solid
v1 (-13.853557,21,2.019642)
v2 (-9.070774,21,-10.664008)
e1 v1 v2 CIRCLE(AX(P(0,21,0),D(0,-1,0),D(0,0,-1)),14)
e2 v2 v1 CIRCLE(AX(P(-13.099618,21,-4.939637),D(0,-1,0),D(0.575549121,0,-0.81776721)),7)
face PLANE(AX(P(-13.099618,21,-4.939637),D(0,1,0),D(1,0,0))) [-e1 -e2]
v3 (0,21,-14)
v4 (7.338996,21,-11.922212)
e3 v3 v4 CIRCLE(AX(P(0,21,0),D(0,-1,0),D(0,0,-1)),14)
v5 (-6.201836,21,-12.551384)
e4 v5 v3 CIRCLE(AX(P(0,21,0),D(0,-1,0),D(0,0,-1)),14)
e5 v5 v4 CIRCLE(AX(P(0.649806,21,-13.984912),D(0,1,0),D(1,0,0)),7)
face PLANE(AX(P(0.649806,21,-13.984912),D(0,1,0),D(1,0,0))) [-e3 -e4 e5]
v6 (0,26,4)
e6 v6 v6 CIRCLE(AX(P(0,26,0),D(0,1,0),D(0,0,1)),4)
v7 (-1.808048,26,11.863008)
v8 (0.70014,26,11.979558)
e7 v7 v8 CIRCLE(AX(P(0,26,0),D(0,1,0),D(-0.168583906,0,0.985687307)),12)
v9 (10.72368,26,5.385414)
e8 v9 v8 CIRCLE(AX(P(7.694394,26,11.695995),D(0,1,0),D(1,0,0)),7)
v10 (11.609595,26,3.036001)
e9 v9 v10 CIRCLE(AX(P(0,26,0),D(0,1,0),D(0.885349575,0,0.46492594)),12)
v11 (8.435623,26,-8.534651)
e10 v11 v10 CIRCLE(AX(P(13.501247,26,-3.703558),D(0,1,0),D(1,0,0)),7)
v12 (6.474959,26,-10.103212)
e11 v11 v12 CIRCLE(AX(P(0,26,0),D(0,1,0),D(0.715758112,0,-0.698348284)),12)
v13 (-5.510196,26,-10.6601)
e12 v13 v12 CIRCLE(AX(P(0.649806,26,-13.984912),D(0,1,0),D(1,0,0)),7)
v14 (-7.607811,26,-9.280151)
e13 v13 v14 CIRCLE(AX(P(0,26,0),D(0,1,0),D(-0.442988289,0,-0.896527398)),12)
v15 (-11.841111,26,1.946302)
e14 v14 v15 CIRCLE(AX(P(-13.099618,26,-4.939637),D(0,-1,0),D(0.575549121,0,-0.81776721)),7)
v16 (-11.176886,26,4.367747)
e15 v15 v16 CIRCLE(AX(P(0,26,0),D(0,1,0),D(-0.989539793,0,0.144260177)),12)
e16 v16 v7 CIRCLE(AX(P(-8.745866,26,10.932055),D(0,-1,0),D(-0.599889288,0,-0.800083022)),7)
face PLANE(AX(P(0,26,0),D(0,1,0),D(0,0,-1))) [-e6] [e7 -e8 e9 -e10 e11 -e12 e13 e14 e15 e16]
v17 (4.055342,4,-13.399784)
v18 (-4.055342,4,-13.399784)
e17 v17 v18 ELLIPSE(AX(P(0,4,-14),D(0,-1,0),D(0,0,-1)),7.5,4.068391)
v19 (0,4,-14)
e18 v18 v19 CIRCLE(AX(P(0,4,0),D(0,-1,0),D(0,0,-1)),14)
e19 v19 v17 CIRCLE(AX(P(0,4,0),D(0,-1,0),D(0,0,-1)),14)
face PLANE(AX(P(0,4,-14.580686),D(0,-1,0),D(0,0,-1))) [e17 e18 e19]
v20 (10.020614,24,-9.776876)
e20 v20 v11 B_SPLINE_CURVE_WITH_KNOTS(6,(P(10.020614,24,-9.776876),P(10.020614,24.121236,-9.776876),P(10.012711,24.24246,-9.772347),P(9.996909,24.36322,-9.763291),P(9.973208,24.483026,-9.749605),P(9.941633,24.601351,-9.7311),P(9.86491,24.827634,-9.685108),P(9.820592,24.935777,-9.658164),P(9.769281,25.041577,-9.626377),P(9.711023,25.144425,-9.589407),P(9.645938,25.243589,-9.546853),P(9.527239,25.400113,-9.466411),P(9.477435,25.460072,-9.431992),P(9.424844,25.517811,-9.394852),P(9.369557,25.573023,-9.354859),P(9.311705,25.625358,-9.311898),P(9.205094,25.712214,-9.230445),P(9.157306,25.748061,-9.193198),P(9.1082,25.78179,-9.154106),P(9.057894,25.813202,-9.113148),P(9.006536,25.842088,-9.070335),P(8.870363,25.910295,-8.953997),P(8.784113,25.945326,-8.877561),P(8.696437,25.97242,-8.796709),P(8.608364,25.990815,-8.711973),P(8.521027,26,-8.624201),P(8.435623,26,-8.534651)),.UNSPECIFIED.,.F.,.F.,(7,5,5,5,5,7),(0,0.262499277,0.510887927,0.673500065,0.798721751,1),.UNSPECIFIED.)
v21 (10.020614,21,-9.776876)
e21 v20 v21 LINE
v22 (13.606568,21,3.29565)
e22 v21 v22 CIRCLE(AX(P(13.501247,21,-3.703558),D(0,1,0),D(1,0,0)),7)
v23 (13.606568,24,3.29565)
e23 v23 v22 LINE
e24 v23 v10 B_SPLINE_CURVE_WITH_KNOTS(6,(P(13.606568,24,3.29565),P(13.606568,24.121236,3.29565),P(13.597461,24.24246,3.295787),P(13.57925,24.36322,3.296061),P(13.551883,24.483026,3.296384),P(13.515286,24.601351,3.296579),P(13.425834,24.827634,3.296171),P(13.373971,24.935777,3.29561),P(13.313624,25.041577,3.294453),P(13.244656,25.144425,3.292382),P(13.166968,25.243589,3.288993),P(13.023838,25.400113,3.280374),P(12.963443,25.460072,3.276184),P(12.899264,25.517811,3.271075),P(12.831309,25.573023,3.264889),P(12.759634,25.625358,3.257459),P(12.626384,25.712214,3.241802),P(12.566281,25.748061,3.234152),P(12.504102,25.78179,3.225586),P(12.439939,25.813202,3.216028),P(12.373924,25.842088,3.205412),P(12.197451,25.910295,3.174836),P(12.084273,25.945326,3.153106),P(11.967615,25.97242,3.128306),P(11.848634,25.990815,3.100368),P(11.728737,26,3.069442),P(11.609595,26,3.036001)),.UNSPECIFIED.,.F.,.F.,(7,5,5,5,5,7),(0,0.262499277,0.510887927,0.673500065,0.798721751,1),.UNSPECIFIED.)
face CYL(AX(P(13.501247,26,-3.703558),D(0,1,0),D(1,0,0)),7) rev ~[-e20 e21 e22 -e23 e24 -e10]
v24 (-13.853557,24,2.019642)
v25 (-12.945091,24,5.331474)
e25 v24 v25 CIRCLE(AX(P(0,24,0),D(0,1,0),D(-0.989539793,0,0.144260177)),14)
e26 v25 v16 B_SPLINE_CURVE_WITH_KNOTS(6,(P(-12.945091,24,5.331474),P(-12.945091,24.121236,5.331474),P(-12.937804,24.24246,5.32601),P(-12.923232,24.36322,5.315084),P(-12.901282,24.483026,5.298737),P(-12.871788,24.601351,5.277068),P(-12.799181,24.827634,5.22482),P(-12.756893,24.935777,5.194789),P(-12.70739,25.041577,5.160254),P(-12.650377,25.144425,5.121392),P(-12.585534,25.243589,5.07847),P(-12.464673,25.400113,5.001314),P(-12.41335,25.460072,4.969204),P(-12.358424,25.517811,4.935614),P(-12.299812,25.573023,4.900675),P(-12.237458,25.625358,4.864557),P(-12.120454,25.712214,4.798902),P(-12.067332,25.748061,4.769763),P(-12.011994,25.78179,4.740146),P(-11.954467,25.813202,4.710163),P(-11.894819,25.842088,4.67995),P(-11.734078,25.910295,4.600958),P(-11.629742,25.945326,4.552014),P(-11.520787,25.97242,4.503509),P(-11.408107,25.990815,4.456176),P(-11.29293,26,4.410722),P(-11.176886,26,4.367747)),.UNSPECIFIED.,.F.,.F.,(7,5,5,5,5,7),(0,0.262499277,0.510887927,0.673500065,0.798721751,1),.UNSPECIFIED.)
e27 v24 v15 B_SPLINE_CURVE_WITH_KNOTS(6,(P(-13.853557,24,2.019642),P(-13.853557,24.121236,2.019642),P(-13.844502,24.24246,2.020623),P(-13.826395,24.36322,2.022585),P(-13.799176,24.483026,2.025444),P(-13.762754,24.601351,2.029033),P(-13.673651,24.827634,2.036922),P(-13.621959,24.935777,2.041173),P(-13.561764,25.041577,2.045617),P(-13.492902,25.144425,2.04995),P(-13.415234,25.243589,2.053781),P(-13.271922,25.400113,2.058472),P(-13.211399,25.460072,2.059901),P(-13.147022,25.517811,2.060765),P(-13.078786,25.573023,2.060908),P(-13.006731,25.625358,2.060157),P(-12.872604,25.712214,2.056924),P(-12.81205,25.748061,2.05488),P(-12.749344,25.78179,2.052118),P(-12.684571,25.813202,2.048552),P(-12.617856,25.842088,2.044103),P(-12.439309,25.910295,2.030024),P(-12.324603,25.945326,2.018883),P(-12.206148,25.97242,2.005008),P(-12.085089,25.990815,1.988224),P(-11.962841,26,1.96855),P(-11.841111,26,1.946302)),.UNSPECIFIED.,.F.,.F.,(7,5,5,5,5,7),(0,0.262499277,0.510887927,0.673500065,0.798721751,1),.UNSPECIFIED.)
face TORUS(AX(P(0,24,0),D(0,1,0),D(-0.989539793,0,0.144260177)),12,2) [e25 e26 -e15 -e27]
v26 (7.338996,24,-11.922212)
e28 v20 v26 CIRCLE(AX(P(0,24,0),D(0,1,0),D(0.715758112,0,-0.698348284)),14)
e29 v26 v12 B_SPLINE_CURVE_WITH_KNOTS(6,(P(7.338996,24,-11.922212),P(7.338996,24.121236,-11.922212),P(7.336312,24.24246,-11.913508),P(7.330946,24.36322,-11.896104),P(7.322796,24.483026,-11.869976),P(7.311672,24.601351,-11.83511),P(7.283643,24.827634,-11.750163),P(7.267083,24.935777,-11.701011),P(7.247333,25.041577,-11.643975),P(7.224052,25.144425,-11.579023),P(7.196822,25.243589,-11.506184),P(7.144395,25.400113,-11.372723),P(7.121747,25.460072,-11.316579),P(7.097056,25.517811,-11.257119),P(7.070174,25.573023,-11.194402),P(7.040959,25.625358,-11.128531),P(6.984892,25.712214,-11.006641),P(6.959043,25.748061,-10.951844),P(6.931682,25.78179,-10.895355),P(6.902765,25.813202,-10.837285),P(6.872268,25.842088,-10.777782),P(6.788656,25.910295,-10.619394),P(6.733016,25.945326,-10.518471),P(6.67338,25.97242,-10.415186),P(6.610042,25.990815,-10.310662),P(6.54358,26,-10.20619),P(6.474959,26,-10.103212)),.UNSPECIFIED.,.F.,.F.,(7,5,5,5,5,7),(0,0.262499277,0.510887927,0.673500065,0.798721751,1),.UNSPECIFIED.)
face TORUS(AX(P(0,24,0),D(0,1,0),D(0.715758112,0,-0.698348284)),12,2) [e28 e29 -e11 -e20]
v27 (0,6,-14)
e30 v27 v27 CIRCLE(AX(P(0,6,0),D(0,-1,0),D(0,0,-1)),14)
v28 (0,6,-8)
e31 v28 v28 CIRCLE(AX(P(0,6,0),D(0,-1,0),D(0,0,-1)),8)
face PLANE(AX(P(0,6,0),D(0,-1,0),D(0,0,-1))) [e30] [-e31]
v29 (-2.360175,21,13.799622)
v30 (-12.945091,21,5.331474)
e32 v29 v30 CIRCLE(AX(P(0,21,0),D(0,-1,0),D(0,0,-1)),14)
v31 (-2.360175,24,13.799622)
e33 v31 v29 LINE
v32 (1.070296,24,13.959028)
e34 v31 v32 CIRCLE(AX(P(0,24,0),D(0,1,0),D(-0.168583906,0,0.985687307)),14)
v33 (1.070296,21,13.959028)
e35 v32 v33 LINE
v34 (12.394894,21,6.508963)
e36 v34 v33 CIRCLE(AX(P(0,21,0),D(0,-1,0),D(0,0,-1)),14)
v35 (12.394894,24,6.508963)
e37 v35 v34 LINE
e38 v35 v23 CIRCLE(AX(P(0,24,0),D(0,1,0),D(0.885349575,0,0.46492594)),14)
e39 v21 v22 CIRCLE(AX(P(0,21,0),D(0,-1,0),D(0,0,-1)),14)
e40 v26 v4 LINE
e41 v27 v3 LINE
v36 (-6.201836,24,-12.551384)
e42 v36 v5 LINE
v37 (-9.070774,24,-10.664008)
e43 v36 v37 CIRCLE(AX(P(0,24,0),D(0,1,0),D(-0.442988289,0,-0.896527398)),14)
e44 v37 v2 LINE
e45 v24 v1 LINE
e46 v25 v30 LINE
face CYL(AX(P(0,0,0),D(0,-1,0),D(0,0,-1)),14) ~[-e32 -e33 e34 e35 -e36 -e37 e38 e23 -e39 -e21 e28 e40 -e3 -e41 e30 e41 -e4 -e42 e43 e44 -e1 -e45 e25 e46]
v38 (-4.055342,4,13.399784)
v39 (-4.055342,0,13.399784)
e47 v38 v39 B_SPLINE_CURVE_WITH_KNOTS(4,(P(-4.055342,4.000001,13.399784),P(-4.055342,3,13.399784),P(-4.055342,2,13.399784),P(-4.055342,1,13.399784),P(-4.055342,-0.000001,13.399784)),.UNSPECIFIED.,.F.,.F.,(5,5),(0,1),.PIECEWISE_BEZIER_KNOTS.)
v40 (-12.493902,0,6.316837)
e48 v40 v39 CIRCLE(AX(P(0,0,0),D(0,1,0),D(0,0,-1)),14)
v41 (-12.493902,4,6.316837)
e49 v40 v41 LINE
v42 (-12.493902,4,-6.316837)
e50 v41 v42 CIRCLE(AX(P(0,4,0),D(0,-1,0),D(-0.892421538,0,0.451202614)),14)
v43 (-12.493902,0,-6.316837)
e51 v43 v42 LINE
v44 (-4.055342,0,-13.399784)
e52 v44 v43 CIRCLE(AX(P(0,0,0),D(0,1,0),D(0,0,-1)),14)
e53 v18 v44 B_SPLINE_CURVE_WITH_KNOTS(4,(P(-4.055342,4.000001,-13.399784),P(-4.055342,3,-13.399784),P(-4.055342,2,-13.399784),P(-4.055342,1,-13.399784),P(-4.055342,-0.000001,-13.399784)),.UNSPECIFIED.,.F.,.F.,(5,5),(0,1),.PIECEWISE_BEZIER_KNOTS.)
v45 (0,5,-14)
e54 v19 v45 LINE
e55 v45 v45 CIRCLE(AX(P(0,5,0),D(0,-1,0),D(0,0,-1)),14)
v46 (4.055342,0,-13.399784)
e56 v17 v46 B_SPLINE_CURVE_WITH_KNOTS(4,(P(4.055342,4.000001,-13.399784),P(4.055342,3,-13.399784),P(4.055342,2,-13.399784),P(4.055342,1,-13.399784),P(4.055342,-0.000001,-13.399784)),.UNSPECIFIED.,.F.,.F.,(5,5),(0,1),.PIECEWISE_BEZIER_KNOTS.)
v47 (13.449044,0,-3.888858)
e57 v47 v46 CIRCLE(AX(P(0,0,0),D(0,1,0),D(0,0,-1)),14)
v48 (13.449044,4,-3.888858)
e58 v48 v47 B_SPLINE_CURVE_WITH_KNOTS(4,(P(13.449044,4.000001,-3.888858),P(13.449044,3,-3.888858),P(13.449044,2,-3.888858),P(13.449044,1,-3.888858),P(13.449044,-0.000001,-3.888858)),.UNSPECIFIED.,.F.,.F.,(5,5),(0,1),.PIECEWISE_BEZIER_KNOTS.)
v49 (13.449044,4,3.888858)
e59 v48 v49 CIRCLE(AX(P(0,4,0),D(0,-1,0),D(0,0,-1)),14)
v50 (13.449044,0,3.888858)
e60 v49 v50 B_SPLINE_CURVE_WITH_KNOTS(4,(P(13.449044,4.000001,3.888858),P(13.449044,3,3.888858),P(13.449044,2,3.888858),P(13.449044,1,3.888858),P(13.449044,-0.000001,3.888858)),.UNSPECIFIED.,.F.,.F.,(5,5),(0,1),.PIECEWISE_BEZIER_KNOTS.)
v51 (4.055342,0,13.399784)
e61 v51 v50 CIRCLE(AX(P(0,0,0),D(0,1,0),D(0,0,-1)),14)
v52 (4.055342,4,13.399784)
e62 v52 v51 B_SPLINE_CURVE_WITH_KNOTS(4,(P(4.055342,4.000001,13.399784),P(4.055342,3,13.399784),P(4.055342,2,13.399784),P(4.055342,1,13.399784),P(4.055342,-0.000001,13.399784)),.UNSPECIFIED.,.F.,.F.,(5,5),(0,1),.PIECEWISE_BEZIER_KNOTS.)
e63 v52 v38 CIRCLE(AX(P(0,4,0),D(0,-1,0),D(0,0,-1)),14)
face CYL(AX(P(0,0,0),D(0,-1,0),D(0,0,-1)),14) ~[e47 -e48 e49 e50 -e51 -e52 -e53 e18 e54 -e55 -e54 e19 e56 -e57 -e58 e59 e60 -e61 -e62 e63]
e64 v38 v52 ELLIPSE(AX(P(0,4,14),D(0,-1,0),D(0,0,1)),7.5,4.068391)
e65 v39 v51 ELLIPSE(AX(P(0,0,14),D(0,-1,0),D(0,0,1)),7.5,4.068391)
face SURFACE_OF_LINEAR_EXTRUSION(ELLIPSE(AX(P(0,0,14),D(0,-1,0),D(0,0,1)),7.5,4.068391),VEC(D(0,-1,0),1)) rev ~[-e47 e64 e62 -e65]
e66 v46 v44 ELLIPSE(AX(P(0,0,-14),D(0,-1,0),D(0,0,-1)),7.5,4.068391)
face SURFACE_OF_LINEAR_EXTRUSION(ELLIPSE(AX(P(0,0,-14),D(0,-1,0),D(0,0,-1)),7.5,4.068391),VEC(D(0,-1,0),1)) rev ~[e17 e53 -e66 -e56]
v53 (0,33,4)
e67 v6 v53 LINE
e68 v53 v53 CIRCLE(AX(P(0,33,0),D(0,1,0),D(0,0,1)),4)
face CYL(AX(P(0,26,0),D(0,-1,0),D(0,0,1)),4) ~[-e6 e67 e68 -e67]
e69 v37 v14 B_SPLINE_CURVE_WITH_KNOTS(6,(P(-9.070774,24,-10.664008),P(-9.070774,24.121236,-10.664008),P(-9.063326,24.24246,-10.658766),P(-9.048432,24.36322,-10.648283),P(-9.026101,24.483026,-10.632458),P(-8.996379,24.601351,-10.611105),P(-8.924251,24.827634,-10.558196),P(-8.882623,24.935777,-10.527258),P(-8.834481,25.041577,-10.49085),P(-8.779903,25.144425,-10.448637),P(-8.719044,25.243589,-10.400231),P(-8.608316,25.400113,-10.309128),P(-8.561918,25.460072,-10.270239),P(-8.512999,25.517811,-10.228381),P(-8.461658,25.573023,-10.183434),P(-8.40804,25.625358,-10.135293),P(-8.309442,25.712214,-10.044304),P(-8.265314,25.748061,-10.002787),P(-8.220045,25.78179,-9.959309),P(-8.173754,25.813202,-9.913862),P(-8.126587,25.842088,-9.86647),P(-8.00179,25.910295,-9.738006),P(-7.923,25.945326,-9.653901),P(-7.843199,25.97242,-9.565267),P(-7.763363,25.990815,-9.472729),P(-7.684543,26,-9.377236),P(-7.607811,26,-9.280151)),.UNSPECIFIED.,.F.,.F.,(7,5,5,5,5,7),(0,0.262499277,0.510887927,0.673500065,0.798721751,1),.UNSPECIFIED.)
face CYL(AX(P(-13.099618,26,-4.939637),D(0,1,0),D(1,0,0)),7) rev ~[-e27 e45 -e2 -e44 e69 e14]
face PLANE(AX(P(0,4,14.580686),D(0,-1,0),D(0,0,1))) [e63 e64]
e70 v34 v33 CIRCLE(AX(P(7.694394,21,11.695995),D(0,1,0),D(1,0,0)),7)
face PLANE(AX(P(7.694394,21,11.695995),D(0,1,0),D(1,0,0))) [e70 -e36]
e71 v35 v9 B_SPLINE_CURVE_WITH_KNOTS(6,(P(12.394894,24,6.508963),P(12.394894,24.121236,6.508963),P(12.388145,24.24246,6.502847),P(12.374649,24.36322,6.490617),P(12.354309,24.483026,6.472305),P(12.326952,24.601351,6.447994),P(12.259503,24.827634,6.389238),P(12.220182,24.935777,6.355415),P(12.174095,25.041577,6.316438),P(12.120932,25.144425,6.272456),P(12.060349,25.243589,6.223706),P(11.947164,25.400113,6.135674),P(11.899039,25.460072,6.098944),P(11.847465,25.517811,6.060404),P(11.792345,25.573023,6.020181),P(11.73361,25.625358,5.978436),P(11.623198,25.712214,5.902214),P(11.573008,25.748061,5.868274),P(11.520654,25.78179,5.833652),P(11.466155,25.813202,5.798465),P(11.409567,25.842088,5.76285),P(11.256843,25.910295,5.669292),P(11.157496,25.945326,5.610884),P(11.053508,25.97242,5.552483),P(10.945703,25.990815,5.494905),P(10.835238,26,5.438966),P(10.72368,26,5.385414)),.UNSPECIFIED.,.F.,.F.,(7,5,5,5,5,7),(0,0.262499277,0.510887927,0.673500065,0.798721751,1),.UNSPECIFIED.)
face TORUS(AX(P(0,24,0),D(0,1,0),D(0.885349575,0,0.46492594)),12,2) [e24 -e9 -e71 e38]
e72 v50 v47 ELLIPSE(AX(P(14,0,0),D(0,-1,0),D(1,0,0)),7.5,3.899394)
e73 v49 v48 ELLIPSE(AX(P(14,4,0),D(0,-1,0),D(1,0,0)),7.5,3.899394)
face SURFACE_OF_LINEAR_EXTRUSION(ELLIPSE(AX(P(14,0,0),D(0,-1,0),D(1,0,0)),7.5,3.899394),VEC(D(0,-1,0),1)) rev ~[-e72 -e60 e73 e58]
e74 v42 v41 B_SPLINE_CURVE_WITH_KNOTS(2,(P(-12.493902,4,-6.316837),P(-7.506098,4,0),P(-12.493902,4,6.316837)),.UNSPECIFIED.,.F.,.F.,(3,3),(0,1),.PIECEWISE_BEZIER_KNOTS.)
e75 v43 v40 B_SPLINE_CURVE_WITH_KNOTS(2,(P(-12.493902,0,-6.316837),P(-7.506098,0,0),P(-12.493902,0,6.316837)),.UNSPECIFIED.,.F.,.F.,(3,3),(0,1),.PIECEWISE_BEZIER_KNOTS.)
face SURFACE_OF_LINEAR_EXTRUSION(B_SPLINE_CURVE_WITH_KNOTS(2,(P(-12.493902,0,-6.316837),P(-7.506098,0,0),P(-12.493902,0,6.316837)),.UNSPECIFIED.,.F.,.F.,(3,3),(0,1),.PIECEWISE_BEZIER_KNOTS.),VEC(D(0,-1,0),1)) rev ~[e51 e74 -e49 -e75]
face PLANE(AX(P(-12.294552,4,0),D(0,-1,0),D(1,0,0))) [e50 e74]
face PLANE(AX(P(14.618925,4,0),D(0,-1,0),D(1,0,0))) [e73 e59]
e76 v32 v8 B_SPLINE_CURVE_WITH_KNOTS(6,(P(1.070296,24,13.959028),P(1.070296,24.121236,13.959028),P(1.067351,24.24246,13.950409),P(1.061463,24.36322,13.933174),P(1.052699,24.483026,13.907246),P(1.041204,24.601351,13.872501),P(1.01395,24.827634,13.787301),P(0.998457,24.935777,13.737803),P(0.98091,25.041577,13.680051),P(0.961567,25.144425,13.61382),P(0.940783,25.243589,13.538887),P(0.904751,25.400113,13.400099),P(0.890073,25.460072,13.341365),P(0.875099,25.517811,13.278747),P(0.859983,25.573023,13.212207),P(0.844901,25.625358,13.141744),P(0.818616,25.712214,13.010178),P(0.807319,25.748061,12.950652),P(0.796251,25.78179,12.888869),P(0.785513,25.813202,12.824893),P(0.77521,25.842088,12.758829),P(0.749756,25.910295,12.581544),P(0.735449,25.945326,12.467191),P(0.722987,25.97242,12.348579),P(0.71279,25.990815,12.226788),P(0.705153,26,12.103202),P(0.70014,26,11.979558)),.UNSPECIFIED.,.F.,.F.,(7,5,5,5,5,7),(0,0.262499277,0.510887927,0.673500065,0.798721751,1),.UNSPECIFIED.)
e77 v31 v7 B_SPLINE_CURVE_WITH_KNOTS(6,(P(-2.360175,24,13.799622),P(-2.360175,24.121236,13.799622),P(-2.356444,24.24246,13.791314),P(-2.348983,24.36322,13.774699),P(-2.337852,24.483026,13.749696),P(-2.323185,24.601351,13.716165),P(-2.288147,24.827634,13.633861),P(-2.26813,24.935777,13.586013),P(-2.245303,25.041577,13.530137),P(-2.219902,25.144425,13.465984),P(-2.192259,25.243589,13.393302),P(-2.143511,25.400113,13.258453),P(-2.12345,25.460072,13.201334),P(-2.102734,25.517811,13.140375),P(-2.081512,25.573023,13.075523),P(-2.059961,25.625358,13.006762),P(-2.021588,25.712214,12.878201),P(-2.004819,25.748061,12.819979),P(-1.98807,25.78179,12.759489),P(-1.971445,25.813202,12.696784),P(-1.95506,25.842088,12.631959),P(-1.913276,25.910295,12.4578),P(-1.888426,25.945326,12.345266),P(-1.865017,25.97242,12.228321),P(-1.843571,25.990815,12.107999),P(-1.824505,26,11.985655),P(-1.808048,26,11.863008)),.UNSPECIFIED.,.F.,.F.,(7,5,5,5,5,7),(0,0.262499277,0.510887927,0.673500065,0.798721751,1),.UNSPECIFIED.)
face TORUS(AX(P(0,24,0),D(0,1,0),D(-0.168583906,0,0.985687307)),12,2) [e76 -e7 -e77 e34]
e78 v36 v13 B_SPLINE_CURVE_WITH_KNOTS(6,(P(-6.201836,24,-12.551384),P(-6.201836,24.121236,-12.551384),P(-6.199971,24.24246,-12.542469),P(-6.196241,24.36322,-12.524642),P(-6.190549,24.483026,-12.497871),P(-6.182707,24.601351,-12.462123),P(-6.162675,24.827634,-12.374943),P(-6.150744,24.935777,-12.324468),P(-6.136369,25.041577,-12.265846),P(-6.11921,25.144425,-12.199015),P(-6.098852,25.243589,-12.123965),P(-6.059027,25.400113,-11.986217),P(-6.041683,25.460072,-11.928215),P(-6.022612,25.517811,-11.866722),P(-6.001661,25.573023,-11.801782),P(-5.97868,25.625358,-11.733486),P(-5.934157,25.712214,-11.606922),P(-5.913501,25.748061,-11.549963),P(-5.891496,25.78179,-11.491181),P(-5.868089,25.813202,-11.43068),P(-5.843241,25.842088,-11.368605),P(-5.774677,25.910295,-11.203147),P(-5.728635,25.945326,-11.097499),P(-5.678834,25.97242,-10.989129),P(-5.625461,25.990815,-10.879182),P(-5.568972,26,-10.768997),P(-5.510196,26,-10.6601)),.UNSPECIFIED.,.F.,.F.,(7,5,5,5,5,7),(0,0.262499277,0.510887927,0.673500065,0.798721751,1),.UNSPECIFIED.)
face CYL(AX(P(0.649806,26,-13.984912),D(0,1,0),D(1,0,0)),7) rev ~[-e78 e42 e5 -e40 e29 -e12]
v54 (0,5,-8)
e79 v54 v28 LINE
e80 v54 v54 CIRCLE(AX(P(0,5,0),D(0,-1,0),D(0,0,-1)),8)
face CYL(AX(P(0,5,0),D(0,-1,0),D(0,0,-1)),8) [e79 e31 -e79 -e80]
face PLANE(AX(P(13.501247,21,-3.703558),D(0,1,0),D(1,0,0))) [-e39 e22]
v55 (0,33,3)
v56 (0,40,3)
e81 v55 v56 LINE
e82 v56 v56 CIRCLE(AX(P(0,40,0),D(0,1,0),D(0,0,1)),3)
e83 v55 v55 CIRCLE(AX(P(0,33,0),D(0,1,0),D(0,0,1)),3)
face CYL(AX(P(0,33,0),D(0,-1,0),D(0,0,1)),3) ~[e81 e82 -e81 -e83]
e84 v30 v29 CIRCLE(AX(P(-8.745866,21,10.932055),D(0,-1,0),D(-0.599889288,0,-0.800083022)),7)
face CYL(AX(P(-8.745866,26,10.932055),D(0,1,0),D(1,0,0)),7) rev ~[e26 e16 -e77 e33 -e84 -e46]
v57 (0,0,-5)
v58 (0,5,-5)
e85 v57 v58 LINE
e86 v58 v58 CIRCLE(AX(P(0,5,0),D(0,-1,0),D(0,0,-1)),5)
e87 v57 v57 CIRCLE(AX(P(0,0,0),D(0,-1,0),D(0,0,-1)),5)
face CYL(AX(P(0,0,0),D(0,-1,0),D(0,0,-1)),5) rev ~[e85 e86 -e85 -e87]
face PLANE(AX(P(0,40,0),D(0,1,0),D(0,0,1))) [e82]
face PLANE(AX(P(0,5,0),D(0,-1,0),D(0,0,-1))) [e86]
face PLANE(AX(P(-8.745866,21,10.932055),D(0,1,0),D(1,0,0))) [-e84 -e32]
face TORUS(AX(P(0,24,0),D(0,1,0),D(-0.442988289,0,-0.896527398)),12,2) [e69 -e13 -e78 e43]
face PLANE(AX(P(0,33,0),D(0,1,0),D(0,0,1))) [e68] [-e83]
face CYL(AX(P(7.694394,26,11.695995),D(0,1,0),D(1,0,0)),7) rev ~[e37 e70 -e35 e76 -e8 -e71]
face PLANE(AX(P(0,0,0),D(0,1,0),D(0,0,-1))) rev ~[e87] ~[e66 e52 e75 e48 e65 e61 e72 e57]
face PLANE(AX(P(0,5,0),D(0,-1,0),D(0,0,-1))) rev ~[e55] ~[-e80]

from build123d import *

# Parameters (mm, degrees)
SKETCH1_R           = 14
BOSS_EXTRUDE1_DEPTH = 26
SKETCH2_R           = 4
BOSS_EXTRUDE2_DEPTH = 7
SKETCH3_R           = 3
BOSS_EXTRUDE3_DEPTH = 7
SKETCH5_R           = 5
CUT_EXTRUDE1_DEPTH  = 5
SKETCH7_R           = 7
CUT_EXTRUDE2_DEPTH  = 5
FILLET1_R           = 2
SKETCH9_RX          = 7.5
SKETCH9_RY          = 4.068391424
SKETCH9_RY_2        = 3.899393896
CUT_EXTRUDE3_DEPTH  = 4
SKETCH11_R          = 14
SKETCH11_R_2        = 8
CUT_EXTRUDE4_DEPTH  = 1


with BuildPart() as part:
    # Sketch1 → Boss-Extrude1 (new body)
    with BuildSketch(Plane(origin=(0, 0, 0), x_dir=(1, 0, 0), z_dir=(0, 1, 0))):
        with Locations(Location((0, 0, 0), (0, 0, 90))):
            Circle(SKETCH1_R)
    extrude(amount=BOSS_EXTRUDE1_DEPTH)

    # Sketch2 → Boss-Extrude2 (add)
    with BuildSketch(Plane(origin=(0, 26, 0), x_dir=(1, 0, 0), z_dir=(0, 1, 0))):
        with Locations(Location((0, 0, 0), (0, 0, 270))):
            Circle(SKETCH2_R)
    extrude(amount=BOSS_EXTRUDE2_DEPTH)

    # Sketch3 → Boss-Extrude3 (add)
    with BuildSketch(Plane(origin=(0, 33, 0), x_dir=(1, 0, 0), z_dir=(0, 1, 0))):
        with Locations(Location((0, 0, 0), (0, 0, 270))):
            Circle(SKETCH3_R)
    extrude(amount=BOSS_EXTRUDE3_DEPTH)

    # Sketch5 → Cut-Extrude1 (cut)
    with BuildSketch(Plane.XZ):
        with Locations(Location((0, 0, 0), (0, 0, 270))):
            Circle(SKETCH5_R)
    extrude(amount=-CUT_EXTRUDE1_DEPTH, mode=Mode.SUBTRACT)

    # Sketch7 → Cut-Extrude2 (cut)
    with BuildSketch(Plane(origin=(0, 26, 0), x_dir=(1, 0, 0), z_dir=(0, 1, 0))):
        with Locations((-13.099617669, 4.939637327)):
            Circle(SKETCH7_R)
        with Locations((-8.745866262, -10.932054854)):
            Circle(SKETCH7_R)
        with Locations((7.694394058, -11.695995045)):
            Circle(SKETCH7_R)
        with Locations((13.501246597, 3.703557793)):
            Circle(SKETCH7_R)
        with Locations((0.649805899, 13.984911594)):
            Circle(SKETCH7_R)
    extrude(amount=-CUT_EXTRUDE2_DEPTH, mode=Mode.SUBTRACT)

    # Fillet1
    fillet1_edges = [part.edges().sort_by_distance(p)[0] for p in [
        (-13.501257172, 26, 3.703519243),
        (-0.64984583, 26, 13.984909739),
        (13.099631773, 26, 4.939599924),
        (8.745835048, 26, -10.932079826),
        (-7.694394058, 26, -11.695995045),
    ]]
    fillet(fillet1_edges, radius=FILLET1_R)

    # Sketch9 → Cut-Extrude3 (cut)
    with BuildSketch(Plane.XZ):
        with Locations(Location((0, -14), (0, 0, -90))):
            Ellipse(SKETCH9_RX, SKETCH9_RY)
        with Locations(Location((14, 0), (0, 0, 0))):
            Ellipse(SKETCH9_RX, SKETCH9_RY_2)
        with Locations(Location((0, 14), (0, 0, 90))):
            Ellipse(SKETCH9_RX, SKETCH9_RY)
        with BuildLine():
            ThreePointArc((-12.493901532, 6.31683659), (-14, 0), (-12.493901532, -6.31683659))
            add(Edge.make_bspline(
                [(-12.493901532, -6.31683659), (-7.506098468, 0), (-12.493901532, 6.31683659)],
                knots=[0, 0, 0, 1, 1, 1], degree=2))
        make_face()
    extrude(amount=-CUT_EXTRUDE3_DEPTH, mode=Mode.SUBTRACT)

    # Sketch11 → Cut-Extrude4 (cut)
    with BuildSketch(Plane(origin=(0, 5, 0), x_dir=(-1, 0, 0), z_dir=(0, -1, 0))):
        with Locations(Location((0, 0, 0), (0, 0, 90))):
            Circle(SKETCH11_R)
        with Locations(Location((0, 0, 0), (0, 0, 90))):
            Circle(SKETCH11_R_2, mode=Mode.SUBTRACT)
    extrude(amount=-CUT_EXTRUDE4_DEPTH, mode=Mode.SUBTRACT)


solid = part.part
